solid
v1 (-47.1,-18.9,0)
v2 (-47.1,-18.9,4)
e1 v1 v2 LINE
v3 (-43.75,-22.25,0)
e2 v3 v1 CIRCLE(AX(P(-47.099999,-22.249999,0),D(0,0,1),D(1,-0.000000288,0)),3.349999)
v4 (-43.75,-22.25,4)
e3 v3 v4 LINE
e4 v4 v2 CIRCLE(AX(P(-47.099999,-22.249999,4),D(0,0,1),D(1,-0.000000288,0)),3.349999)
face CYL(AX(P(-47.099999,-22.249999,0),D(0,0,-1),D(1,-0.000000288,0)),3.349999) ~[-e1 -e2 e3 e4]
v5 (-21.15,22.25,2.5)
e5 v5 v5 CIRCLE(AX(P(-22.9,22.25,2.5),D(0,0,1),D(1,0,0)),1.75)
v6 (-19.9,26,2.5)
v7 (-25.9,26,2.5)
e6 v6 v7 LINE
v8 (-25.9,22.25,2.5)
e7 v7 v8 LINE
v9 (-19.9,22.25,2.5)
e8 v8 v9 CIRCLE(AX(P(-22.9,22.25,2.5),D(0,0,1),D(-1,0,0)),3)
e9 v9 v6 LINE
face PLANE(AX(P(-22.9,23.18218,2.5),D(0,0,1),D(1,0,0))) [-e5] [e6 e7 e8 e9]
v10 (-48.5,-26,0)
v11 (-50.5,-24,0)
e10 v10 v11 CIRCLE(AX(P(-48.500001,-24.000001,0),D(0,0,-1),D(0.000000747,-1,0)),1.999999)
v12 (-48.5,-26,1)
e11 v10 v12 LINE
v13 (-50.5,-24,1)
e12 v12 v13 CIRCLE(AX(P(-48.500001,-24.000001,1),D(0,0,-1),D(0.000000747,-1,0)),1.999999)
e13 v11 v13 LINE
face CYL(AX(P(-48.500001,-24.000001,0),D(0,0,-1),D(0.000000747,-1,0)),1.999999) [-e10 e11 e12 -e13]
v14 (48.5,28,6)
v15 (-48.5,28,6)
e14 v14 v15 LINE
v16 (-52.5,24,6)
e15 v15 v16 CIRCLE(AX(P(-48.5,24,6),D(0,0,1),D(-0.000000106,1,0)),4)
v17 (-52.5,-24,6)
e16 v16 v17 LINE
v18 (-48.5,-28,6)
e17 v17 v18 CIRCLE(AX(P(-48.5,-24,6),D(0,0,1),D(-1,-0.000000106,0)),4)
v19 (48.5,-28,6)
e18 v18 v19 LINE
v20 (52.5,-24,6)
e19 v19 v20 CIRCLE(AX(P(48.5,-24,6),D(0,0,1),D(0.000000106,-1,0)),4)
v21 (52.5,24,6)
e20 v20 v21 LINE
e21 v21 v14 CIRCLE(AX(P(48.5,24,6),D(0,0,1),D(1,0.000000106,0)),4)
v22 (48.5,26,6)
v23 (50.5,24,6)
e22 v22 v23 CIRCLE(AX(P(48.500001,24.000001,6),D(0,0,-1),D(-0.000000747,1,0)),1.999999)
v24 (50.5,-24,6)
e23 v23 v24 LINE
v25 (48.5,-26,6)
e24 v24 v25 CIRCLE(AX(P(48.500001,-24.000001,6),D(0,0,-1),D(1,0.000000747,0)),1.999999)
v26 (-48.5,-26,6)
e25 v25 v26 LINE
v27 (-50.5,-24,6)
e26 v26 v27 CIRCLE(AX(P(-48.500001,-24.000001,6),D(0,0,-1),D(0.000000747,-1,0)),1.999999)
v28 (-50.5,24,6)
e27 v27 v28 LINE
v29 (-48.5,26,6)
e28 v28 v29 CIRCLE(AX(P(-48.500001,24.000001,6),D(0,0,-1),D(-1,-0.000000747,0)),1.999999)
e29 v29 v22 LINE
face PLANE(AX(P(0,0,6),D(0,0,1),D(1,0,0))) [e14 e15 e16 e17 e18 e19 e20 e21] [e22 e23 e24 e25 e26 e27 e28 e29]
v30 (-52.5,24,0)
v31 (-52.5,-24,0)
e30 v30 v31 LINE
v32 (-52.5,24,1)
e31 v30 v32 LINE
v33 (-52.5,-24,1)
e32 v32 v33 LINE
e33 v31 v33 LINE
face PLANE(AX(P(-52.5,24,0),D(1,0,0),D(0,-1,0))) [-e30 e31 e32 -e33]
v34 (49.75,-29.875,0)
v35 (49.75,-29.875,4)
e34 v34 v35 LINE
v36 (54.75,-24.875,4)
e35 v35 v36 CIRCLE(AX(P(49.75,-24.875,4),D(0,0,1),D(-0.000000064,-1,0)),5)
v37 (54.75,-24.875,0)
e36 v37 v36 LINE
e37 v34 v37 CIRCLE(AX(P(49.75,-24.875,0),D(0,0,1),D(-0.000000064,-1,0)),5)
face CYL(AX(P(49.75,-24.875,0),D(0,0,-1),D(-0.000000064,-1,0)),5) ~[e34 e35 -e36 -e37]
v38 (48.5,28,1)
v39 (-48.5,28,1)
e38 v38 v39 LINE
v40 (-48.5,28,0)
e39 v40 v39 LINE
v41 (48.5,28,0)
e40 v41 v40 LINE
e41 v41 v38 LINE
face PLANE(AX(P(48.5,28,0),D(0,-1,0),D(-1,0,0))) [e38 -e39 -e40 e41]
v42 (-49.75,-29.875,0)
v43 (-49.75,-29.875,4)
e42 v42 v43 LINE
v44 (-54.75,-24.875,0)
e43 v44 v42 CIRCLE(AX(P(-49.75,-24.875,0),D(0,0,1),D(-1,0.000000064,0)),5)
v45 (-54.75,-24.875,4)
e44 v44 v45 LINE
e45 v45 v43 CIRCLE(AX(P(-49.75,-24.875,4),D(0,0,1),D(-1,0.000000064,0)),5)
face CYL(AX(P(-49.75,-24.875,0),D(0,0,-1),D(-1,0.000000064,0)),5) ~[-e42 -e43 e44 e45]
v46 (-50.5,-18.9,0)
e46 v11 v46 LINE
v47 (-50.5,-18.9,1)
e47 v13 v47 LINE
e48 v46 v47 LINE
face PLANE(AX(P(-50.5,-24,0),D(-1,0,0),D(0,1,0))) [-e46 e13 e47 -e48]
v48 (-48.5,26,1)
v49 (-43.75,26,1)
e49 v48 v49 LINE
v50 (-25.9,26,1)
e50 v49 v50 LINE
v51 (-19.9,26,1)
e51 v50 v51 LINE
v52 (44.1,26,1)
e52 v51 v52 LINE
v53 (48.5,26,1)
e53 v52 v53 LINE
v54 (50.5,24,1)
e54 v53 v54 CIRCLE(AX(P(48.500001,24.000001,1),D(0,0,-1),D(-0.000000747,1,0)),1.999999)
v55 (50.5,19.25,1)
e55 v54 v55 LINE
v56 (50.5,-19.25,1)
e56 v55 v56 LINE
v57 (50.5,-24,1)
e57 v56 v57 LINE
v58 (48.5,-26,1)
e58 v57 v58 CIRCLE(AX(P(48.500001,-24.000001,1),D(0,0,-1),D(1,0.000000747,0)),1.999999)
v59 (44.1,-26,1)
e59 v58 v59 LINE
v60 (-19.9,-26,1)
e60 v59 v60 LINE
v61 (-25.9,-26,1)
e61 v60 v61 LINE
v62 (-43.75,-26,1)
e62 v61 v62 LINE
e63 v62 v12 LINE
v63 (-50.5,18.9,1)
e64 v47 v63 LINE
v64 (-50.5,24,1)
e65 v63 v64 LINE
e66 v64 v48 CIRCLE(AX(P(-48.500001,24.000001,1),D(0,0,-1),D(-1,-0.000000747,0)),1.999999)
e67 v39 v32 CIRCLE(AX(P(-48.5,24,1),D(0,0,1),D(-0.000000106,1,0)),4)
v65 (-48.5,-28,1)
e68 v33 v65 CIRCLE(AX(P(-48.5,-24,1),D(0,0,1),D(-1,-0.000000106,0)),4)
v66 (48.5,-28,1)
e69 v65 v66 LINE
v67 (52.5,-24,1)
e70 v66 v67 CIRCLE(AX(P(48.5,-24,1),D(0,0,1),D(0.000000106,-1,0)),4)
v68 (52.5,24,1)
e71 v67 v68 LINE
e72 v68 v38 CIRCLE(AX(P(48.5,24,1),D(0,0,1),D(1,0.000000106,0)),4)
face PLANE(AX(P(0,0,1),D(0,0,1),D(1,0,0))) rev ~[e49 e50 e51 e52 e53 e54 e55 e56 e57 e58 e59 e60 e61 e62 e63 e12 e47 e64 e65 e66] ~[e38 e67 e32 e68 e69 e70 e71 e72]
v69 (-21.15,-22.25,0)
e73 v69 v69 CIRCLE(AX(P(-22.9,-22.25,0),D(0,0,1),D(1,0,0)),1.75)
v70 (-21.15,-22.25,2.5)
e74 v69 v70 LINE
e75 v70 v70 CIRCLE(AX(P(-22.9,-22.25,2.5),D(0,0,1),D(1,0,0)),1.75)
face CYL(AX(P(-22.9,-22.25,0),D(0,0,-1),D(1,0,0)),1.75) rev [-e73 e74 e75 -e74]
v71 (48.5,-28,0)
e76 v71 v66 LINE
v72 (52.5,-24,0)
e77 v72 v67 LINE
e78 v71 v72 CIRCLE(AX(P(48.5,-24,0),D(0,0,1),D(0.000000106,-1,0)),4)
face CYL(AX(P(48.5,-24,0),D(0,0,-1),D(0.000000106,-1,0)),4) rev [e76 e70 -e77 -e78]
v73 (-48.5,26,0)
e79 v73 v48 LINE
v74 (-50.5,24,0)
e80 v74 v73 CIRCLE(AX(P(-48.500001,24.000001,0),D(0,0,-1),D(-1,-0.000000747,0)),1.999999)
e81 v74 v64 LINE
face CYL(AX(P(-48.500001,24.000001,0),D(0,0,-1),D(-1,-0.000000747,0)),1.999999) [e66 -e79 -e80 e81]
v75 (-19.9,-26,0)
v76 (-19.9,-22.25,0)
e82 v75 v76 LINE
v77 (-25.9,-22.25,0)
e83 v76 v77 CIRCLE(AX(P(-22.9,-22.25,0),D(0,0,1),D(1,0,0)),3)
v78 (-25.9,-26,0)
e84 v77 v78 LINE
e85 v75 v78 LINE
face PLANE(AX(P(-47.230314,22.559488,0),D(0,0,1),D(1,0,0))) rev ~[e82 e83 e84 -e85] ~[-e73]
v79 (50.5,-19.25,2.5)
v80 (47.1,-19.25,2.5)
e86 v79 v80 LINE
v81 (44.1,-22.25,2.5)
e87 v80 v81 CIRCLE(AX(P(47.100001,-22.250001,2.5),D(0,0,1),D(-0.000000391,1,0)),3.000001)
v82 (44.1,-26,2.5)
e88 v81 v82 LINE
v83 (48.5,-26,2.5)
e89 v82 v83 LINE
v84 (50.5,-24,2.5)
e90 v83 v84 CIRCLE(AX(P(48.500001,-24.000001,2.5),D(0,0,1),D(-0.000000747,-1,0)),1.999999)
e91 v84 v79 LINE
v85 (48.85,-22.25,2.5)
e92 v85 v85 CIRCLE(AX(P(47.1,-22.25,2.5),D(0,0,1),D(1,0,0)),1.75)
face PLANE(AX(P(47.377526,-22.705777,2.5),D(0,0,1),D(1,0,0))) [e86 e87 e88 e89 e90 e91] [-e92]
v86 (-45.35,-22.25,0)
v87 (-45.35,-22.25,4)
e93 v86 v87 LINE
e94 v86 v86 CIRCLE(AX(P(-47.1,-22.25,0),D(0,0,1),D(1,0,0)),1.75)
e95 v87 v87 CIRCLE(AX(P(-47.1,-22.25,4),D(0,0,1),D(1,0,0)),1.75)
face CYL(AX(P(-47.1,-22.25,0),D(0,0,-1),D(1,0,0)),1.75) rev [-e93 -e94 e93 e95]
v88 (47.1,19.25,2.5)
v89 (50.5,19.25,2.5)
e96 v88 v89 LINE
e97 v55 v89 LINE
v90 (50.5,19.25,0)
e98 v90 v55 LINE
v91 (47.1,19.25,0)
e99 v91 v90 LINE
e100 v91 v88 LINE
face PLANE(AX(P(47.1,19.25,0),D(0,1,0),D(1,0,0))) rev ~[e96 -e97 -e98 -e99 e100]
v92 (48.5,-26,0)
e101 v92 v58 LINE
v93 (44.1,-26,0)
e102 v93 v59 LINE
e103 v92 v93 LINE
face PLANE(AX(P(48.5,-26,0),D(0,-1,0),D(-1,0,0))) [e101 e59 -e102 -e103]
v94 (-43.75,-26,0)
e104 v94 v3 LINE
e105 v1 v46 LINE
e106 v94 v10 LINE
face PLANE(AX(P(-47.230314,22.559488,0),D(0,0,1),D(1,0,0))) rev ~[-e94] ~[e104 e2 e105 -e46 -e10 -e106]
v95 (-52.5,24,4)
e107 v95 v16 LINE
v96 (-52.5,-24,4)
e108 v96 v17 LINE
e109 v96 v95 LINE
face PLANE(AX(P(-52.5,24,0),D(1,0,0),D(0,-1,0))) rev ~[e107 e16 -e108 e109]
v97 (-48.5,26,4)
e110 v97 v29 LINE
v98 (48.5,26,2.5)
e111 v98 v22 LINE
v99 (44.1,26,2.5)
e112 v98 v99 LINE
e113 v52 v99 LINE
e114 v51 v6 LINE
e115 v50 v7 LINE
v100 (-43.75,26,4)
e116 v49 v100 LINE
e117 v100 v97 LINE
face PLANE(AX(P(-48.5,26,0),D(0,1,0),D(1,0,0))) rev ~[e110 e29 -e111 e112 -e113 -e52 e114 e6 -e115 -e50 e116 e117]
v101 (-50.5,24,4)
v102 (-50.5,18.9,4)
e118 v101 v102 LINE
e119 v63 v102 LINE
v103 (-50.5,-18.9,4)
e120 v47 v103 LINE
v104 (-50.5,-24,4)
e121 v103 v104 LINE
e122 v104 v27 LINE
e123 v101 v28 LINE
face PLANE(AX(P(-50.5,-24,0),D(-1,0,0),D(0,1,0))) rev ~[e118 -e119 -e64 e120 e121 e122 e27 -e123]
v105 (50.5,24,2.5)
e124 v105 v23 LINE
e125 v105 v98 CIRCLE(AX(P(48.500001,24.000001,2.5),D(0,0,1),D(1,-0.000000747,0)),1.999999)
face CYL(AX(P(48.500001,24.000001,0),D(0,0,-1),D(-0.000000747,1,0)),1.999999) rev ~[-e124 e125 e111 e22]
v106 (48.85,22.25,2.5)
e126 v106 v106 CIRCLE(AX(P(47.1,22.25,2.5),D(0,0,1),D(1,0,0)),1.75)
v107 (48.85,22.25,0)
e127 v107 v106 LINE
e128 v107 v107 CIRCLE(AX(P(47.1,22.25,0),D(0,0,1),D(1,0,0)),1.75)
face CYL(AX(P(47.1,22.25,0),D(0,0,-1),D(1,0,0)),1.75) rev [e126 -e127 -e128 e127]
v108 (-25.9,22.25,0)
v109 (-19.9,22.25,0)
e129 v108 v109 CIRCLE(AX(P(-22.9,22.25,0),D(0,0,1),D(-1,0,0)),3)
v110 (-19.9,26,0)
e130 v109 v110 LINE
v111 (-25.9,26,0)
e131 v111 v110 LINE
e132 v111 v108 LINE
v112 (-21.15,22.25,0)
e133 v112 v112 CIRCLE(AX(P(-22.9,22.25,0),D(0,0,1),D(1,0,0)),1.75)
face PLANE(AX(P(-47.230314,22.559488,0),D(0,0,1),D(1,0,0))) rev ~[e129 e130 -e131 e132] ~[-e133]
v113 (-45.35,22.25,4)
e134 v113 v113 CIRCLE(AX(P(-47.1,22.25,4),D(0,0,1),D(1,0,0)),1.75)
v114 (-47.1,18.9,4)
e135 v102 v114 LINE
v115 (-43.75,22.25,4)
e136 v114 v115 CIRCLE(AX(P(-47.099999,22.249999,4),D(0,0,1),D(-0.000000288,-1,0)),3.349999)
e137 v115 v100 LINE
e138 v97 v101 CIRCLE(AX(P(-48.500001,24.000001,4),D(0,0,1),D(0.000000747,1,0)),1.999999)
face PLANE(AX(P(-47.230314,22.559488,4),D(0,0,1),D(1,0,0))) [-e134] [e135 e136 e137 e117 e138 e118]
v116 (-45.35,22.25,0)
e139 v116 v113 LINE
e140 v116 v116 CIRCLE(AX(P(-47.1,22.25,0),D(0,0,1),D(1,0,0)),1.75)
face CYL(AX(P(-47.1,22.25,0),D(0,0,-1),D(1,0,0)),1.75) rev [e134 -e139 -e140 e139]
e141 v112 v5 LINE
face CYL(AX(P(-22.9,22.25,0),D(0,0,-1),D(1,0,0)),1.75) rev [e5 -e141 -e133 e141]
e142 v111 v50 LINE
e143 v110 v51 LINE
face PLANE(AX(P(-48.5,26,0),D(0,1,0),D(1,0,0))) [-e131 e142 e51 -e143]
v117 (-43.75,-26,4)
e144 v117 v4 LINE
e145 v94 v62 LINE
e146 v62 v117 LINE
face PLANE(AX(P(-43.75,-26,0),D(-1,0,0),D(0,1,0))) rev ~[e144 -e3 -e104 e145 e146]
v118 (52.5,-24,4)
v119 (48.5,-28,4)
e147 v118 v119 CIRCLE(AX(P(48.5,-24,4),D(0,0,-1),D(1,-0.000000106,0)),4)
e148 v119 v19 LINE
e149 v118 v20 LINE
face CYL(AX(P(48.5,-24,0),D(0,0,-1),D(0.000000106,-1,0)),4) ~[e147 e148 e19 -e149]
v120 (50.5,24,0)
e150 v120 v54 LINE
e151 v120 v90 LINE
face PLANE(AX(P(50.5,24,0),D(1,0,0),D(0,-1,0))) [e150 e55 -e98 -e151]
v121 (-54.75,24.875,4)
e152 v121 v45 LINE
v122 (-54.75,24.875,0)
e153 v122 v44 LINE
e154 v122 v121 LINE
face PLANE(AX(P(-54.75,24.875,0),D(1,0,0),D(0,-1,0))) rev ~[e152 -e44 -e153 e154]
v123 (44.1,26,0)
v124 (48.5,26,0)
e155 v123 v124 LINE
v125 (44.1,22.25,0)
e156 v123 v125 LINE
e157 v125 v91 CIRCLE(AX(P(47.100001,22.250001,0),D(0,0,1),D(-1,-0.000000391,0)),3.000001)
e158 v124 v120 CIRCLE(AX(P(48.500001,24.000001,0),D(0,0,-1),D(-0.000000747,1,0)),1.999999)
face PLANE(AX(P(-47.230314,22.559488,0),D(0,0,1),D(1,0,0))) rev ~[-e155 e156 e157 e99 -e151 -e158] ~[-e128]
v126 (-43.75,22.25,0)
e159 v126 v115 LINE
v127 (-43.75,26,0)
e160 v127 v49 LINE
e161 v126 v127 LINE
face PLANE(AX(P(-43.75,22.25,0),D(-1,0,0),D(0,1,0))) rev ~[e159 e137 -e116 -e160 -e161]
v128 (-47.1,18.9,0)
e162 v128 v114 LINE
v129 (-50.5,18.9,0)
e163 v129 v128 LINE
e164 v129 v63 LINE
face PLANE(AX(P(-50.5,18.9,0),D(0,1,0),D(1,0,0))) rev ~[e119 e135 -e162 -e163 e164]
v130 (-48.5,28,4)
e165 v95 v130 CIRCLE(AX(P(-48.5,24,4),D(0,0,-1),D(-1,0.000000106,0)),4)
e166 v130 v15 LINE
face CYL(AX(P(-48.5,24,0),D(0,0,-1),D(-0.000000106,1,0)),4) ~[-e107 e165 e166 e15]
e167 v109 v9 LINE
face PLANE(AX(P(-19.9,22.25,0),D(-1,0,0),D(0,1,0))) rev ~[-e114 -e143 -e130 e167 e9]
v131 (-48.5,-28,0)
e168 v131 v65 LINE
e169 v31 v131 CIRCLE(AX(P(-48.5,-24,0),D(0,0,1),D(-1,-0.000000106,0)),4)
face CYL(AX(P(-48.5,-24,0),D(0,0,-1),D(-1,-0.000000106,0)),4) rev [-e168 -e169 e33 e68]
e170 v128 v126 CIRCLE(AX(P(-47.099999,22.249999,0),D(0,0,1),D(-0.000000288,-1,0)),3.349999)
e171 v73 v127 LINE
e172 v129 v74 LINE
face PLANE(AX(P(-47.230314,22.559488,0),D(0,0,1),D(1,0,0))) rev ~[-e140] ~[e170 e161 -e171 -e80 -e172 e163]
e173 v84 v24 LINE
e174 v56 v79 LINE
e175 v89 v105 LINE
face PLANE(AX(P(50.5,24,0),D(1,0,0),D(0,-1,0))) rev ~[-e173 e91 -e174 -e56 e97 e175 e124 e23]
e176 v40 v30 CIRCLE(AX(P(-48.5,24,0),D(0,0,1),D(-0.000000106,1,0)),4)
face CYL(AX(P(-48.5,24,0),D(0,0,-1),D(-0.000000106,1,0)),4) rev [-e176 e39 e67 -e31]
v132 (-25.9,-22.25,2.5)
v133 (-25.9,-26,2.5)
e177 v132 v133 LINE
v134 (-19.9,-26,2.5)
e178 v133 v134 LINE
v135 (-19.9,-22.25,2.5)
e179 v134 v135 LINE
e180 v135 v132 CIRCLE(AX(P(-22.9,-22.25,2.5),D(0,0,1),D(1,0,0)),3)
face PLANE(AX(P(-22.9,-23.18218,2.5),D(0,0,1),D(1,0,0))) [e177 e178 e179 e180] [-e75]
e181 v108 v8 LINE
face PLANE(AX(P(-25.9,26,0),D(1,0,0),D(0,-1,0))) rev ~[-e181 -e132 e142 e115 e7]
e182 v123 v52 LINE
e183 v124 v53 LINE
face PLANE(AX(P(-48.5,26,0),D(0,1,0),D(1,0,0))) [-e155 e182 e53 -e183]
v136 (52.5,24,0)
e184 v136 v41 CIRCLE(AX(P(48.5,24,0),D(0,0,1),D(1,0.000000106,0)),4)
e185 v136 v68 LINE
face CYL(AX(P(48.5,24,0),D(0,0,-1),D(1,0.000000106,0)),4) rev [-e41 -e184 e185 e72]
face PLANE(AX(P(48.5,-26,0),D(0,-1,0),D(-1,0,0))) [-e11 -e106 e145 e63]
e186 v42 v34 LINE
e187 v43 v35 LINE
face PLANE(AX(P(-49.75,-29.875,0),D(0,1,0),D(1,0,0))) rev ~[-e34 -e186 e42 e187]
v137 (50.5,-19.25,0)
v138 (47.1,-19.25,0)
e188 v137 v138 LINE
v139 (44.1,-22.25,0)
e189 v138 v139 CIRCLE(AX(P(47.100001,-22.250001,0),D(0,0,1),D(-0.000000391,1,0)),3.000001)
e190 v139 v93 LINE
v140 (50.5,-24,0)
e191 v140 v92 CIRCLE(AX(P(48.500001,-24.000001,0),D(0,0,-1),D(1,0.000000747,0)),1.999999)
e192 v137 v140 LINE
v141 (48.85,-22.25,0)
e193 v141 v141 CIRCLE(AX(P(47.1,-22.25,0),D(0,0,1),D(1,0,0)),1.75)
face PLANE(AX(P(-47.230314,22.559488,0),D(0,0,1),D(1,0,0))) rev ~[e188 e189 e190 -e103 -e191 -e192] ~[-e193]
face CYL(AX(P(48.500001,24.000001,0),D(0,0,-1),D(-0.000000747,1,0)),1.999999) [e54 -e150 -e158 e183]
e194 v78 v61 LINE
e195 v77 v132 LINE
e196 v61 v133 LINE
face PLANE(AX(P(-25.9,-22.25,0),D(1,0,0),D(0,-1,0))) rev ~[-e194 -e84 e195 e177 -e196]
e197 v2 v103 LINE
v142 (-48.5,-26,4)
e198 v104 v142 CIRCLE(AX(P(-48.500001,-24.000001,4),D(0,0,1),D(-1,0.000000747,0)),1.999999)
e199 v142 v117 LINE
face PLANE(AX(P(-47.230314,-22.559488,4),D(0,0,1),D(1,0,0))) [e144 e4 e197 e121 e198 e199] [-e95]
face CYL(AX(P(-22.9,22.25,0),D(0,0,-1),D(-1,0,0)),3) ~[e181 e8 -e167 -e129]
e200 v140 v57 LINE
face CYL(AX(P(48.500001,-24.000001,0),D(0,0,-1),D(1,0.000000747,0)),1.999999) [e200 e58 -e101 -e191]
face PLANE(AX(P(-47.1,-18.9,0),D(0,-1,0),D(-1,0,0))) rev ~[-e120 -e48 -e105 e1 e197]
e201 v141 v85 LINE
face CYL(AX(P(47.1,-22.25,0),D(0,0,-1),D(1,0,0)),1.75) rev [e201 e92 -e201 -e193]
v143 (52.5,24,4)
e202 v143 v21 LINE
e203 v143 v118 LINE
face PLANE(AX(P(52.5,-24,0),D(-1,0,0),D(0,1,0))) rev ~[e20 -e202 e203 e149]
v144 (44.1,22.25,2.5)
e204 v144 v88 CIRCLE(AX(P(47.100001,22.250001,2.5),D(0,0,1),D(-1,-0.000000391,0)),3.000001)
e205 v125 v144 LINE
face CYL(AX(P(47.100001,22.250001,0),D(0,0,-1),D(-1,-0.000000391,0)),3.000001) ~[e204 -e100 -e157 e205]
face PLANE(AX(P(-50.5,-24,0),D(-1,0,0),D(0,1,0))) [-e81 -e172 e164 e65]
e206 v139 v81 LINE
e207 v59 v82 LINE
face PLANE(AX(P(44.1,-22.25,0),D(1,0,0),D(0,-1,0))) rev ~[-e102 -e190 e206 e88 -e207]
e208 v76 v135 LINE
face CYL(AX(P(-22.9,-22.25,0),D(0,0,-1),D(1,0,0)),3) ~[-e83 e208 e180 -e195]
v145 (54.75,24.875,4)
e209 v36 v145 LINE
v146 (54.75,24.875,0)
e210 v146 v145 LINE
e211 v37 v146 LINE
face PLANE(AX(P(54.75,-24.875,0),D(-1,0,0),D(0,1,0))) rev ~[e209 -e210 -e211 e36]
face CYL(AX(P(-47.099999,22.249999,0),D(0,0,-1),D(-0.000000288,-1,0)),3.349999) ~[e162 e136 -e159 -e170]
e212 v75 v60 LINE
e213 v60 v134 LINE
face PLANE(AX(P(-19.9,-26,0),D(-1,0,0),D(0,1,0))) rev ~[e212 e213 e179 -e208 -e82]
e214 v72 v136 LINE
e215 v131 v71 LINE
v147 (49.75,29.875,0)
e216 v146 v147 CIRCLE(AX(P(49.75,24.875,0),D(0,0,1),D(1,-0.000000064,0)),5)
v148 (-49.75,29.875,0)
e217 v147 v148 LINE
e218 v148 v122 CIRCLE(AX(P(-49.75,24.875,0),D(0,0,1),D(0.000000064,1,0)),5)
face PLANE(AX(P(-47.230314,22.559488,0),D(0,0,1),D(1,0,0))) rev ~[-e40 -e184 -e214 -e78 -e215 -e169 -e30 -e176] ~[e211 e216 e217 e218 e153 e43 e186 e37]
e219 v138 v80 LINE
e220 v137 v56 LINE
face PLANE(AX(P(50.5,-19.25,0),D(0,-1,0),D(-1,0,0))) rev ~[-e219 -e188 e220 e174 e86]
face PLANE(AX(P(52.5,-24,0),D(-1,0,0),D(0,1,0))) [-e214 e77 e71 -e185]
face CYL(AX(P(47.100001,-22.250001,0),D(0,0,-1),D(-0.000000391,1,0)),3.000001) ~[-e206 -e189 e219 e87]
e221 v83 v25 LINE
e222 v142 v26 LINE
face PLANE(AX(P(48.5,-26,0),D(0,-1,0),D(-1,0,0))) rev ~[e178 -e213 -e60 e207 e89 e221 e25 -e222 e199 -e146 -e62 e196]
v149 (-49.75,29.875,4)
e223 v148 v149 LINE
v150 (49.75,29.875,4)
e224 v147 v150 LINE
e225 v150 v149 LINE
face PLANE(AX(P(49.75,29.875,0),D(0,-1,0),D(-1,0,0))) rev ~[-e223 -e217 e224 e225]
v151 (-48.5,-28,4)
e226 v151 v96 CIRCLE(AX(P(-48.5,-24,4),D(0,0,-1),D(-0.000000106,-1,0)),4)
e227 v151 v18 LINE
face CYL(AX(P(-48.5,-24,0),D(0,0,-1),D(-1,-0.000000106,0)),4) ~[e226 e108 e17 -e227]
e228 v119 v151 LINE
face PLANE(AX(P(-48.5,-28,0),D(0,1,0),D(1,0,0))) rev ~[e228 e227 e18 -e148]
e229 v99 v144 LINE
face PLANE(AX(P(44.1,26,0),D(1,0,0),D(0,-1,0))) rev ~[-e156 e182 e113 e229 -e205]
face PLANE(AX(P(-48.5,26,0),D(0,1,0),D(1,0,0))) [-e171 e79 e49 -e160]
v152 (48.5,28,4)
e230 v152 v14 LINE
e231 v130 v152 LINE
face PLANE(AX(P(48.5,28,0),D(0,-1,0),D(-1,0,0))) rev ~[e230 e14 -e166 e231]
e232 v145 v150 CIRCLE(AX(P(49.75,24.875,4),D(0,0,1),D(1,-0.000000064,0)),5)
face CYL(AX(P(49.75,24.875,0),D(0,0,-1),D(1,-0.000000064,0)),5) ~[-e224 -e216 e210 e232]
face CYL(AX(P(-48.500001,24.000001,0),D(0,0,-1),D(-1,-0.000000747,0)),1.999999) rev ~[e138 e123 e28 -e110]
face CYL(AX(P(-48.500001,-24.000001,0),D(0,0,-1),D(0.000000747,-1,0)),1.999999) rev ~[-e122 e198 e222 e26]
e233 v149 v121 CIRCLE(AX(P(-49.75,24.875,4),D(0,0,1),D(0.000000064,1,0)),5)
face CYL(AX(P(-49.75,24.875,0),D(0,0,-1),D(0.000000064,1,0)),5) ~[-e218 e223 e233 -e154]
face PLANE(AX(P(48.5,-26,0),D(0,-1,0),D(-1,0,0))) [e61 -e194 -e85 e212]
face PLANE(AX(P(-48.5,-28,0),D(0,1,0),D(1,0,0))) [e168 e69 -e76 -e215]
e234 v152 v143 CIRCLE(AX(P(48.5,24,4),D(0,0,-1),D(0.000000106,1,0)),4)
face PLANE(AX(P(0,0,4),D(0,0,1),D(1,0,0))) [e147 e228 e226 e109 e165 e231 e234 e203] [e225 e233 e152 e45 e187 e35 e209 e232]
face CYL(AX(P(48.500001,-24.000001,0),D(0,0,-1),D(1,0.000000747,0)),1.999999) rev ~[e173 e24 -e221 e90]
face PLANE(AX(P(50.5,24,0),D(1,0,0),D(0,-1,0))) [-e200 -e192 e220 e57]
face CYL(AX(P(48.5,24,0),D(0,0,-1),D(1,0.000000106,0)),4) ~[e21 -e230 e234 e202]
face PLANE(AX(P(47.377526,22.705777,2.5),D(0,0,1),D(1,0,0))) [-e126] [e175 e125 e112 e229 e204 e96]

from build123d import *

# Parameters (mm, degrees)
F1_DEPTH = 6
F2_DEPTH = 4
F0_R     = 1.75
F3_DEPTH = 2.5
F4_DEPTH = 4
F5_DEPTH = 1


with BuildPart() as f1:
    # F0 (on Top) → F1 (new body)
    with BuildSketch(Plane.XY):
        with BuildLine():
            Line((48.5, 28), (-48.5, 28))
            ThreePointArc((-48.5, 28), (-51.328427, 26.828427), (-52.5, 24))
            Line((-52.5, 24), (-52.5, -24))
            ThreePointArc((-52.5, -24), (-51.328427, -26.828427), (-48.5, -28))
            Line((-48.5, -28), (48.5, -28))
            ThreePointArc((48.5, -28), (51.328427, -26.828427), (52.5, -24))
            Line((52.5, -24), (52.5, 24))
            ThreePointArc((52.5, 24), (51.328427, 26.828427), (48.5, 28))
        make_face()
        with BuildLine():
            ThreePointArc((-50.5, 24), (-49.914214, 25.414214), (-48.5, 26))
            Line((-48.5, 26), (-43.75, 26))
            Line((-43.75, 26), (-25.9, 26))
            Line((-25.9, 26), (-19.9, 26))
            Line((-19.9, 26), (44.1, 26))
            Line((44.1, 26), (48.5, 26))
            ThreePointArc((48.5, 26), (49.914214, 25.414214), (50.5, 24))
            Line((50.5, 24), (50.5, 19.25))
            Line((50.5, 19.25), (50.5, -19.25))
            Line((50.5, -19.25), (50.5, -24))
            ThreePointArc((50.5, -24), (49.914214, -25.414214), (48.5, -26))
            Line((48.5, -26), (44.1, -26))
            Line((44.1, -26), (-19.9, -26))
            Line((-19.9, -26), (-25.9, -26))
            Line((-25.9, -26), (-43.75, -26))
            Line((-43.75, -26), (-48.5, -26))
            ThreePointArc((-48.5, -26), (-49.914214, -25.414214), (-50.5, -24))
            Line((-50.5, -24), (-50.5, -18.9))
            Line((-50.5, -18.9), (-50.5, 18.9))
            Line((-50.5, 18.9), (-50.5, 24))
        make_face(mode=Mode.SUBTRACT)
    extrude(amount=F1_DEPTH)

    # F0 (on Top) → F2 (join)
    with BuildSketch(Plane.XY):
        with BuildLine():
            Line((49.75, 29.875), (-49.75, 29.875))
            ThreePointArc((-49.75, 29.875), (-53.285534, 28.410534), (-54.75, 24.875))
            Line((-54.75, 24.875), (-54.75, -24.875))
            ThreePointArc((-54.75, -24.875), (-53.285534, -28.410534), (-49.75, -29.875))
            Line((-49.75, -29.875), (49.75, -29.875))
            ThreePointArc((49.75, -29.875), (53.285534, -28.410534), (54.75, -24.875))
            Line((54.75, -24.875), (54.75, 24.875))
            ThreePointArc((54.75, 24.875), (53.285534, 28.410534), (49.75, 29.875))
        make_face()
        with BuildLine():
            ThreePointArc((-52.5, 24), (-51.328427, 26.828427), (-48.5, 28))
            Line((-48.5, 28), (48.5, 28))
            ThreePointArc((48.5, 28), (51.328427, 26.828427), (52.5, 24))
            Line((52.5, 24), (52.5, -24))
            ThreePointArc((52.5, -24), (51.328427, -26.828427), (48.5, -28))
            Line((48.5, -28), (-48.5, -28))
            ThreePointArc((-48.5, -28), (-51.328427, -26.828427), (-52.5, -24))
            Line((-52.5, -24), (-52.5, 24))
        make_face(mode=Mode.SUBTRACT)
    extrude(amount=F2_DEPTH)

    # F0 (on Top) → F3 (join)
    with BuildSketch(Plane.XY):
        with BuildLine():
            Line((-19.9, 26), (-25.9, 26))
            Line((-25.9, 26), (-25.9, 22.25))
            ThreePointArc((-25.9, 22.25), (-22.9, 19.25), (-19.9, 22.25))
            Line((-19.9, 22.25), (-19.9, 26))
        make_face()
        with Locations((-22.9, 22.25)):
            Circle(F0_R, mode=Mode.SUBTRACT)
        with BuildLine():
            Line((48.5, 26), (44.1, 26))
            Line((44.1, 26), (44.1, 22.25))
            ThreePointArc((44.1, 22.25), (44.97868, 20.12868), (47.1, 19.25))
            Line((47.1, 19.25), (50.5, 19.25))
            Line((50.5, 19.25), (50.5, 24))
            ThreePointArc((50.5, 24), (49.914214, 25.414214), (48.5, 26))
        make_face()
        with Locations((47.1, 22.25)):
            Circle(F0_R, mode=Mode.SUBTRACT)
        with BuildLine():
            Line((50.5, -24), (50.5, -19.25))
            Line((50.5, -19.25), (47.1, -19.25))
            ThreePointArc((47.1, -19.25), (44.97868, -20.12868), (44.1, -22.25))
            Line((44.1, -22.25), (44.1, -26))
            Line((44.1, -26), (48.5, -26))
            ThreePointArc((48.5, -26), (49.914214, -25.414214), (50.5, -24))
        make_face()
        with Locations((47.1, -22.25)):
            Circle(F0_R, mode=Mode.SUBTRACT)
        with BuildLine():
            Line((-25.9, -22.25), (-25.9, -26))
            Line((-25.9, -26), (-19.9, -26))
            Line((-19.9, -26), (-19.9, -22.25))
            ThreePointArc((-19.9, -22.25), (-22.9, -19.25), (-25.9, -22.25))
        make_face()
        with Locations((-22.9, -22.25)):
            Circle(F0_R, mode=Mode.SUBTRACT)
    extrude(amount=F3_DEPTH)

    # F0 (on Top) → F4 (join)
    with BuildSketch(Plane.XY):
        with BuildLine():
            Line((-43.75, 26), (-48.5, 26))
            ThreePointArc((-48.5, 26), (-49.914214, 25.414214), (-50.5, 24))
            Line((-50.5, 24), (-50.5, 18.9))
            Line((-50.5, 18.9), (-47.1, 18.9))
            ThreePointArc((-47.1, 18.9), (-44.731192, 19.881192), (-43.75, 22.25))
            Line((-43.75, 22.25), (-43.75, 26))
        make_face()
        with Locations((-47.1, 22.25)):
            Circle(F0_R, mode=Mode.SUBTRACT)
        with BuildLine():
            Line((-47.1, -18.9), (-50.5, -18.9))
            Line((-50.5, -18.9), (-50.5, -24))
            ThreePointArc((-50.5, -24), (-49.914214, -25.414214), (-48.5, -26))
            Line((-48.5, -26), (-43.75, -26))
            Line((-43.75, -26), (-43.75, -22.25))
            ThreePointArc((-43.75, -22.25), (-44.731192, -19.881192), (-47.1, -18.9))
        make_face()
        with Locations((-47.1, -22.25)):
            Circle(F0_R, mode=Mode.SUBTRACT)
    extrude(amount=F4_DEPTH)

    # F0 (on Top) → F5 (cut)
    with BuildSketch(Plane.XY):
        with BuildLine():
            Line((48.5, 28), (-48.5, 28))
            ThreePointArc((-48.5, 28), (-51.328427, 26.828427), (-52.5, 24))
            Line((-52.5, 24), (-52.5, -24))
            ThreePointArc((-52.5, -24), (-51.328427, -26.828427), (-48.5, -28))
            Line((-48.5, -28), (48.5, -28))
            ThreePointArc((48.5, -28), (51.328427, -26.828427), (52.5, -24))
            Line((52.5, -24), (52.5, 24))
            ThreePointArc((52.5, 24), (51.328427, 26.828427), (48.5, 28))
        make_face()
        with BuildLine():
            ThreePointArc((-50.5, 24), (-49.914214, 25.414214), (-48.5, 26))
            Line((-48.5, 26), (-43.75, 26))
            Line((-43.75, 26), (-25.9, 26))
            Line((-25.9, 26), (-19.9, 26))
            Line((-19.9, 26), (44.1, 26))
            Line((44.1, 26), (48.5, 26))
            ThreePointArc((48.5, 26), (49.914214, 25.414214), (50.5, 24))
            Line((50.5, 24), (50.5, 19.25))
            Line((50.5, 19.25), (50.5, -19.25))
            Line((50.5, -19.25), (50.5, -24))
            ThreePointArc((50.5, -24), (49.914214, -25.414214), (48.5, -26))
            Line((48.5, -26), (44.1, -26))
            Line((44.1, -26), (-19.9, -26))
            Line((-19.9, -26), (-25.9, -26))
            Line((-25.9, -26), (-43.75, -26))
            Line((-43.75, -26), (-48.5, -26))
            ThreePointArc((-48.5, -26), (-49.914214, -25.414214), (-50.5, -24))
            Line((-50.5, -24), (-50.5, -18.9))
            Line((-50.5, -18.9), (-50.5, 18.9))
            Line((-50.5, 18.9), (-50.5, 24))
        make_face(mode=Mode.SUBTRACT)
    extrude(amount=F5_DEPTH, mode=Mode.SUBTRACT)


solid = f1.part
